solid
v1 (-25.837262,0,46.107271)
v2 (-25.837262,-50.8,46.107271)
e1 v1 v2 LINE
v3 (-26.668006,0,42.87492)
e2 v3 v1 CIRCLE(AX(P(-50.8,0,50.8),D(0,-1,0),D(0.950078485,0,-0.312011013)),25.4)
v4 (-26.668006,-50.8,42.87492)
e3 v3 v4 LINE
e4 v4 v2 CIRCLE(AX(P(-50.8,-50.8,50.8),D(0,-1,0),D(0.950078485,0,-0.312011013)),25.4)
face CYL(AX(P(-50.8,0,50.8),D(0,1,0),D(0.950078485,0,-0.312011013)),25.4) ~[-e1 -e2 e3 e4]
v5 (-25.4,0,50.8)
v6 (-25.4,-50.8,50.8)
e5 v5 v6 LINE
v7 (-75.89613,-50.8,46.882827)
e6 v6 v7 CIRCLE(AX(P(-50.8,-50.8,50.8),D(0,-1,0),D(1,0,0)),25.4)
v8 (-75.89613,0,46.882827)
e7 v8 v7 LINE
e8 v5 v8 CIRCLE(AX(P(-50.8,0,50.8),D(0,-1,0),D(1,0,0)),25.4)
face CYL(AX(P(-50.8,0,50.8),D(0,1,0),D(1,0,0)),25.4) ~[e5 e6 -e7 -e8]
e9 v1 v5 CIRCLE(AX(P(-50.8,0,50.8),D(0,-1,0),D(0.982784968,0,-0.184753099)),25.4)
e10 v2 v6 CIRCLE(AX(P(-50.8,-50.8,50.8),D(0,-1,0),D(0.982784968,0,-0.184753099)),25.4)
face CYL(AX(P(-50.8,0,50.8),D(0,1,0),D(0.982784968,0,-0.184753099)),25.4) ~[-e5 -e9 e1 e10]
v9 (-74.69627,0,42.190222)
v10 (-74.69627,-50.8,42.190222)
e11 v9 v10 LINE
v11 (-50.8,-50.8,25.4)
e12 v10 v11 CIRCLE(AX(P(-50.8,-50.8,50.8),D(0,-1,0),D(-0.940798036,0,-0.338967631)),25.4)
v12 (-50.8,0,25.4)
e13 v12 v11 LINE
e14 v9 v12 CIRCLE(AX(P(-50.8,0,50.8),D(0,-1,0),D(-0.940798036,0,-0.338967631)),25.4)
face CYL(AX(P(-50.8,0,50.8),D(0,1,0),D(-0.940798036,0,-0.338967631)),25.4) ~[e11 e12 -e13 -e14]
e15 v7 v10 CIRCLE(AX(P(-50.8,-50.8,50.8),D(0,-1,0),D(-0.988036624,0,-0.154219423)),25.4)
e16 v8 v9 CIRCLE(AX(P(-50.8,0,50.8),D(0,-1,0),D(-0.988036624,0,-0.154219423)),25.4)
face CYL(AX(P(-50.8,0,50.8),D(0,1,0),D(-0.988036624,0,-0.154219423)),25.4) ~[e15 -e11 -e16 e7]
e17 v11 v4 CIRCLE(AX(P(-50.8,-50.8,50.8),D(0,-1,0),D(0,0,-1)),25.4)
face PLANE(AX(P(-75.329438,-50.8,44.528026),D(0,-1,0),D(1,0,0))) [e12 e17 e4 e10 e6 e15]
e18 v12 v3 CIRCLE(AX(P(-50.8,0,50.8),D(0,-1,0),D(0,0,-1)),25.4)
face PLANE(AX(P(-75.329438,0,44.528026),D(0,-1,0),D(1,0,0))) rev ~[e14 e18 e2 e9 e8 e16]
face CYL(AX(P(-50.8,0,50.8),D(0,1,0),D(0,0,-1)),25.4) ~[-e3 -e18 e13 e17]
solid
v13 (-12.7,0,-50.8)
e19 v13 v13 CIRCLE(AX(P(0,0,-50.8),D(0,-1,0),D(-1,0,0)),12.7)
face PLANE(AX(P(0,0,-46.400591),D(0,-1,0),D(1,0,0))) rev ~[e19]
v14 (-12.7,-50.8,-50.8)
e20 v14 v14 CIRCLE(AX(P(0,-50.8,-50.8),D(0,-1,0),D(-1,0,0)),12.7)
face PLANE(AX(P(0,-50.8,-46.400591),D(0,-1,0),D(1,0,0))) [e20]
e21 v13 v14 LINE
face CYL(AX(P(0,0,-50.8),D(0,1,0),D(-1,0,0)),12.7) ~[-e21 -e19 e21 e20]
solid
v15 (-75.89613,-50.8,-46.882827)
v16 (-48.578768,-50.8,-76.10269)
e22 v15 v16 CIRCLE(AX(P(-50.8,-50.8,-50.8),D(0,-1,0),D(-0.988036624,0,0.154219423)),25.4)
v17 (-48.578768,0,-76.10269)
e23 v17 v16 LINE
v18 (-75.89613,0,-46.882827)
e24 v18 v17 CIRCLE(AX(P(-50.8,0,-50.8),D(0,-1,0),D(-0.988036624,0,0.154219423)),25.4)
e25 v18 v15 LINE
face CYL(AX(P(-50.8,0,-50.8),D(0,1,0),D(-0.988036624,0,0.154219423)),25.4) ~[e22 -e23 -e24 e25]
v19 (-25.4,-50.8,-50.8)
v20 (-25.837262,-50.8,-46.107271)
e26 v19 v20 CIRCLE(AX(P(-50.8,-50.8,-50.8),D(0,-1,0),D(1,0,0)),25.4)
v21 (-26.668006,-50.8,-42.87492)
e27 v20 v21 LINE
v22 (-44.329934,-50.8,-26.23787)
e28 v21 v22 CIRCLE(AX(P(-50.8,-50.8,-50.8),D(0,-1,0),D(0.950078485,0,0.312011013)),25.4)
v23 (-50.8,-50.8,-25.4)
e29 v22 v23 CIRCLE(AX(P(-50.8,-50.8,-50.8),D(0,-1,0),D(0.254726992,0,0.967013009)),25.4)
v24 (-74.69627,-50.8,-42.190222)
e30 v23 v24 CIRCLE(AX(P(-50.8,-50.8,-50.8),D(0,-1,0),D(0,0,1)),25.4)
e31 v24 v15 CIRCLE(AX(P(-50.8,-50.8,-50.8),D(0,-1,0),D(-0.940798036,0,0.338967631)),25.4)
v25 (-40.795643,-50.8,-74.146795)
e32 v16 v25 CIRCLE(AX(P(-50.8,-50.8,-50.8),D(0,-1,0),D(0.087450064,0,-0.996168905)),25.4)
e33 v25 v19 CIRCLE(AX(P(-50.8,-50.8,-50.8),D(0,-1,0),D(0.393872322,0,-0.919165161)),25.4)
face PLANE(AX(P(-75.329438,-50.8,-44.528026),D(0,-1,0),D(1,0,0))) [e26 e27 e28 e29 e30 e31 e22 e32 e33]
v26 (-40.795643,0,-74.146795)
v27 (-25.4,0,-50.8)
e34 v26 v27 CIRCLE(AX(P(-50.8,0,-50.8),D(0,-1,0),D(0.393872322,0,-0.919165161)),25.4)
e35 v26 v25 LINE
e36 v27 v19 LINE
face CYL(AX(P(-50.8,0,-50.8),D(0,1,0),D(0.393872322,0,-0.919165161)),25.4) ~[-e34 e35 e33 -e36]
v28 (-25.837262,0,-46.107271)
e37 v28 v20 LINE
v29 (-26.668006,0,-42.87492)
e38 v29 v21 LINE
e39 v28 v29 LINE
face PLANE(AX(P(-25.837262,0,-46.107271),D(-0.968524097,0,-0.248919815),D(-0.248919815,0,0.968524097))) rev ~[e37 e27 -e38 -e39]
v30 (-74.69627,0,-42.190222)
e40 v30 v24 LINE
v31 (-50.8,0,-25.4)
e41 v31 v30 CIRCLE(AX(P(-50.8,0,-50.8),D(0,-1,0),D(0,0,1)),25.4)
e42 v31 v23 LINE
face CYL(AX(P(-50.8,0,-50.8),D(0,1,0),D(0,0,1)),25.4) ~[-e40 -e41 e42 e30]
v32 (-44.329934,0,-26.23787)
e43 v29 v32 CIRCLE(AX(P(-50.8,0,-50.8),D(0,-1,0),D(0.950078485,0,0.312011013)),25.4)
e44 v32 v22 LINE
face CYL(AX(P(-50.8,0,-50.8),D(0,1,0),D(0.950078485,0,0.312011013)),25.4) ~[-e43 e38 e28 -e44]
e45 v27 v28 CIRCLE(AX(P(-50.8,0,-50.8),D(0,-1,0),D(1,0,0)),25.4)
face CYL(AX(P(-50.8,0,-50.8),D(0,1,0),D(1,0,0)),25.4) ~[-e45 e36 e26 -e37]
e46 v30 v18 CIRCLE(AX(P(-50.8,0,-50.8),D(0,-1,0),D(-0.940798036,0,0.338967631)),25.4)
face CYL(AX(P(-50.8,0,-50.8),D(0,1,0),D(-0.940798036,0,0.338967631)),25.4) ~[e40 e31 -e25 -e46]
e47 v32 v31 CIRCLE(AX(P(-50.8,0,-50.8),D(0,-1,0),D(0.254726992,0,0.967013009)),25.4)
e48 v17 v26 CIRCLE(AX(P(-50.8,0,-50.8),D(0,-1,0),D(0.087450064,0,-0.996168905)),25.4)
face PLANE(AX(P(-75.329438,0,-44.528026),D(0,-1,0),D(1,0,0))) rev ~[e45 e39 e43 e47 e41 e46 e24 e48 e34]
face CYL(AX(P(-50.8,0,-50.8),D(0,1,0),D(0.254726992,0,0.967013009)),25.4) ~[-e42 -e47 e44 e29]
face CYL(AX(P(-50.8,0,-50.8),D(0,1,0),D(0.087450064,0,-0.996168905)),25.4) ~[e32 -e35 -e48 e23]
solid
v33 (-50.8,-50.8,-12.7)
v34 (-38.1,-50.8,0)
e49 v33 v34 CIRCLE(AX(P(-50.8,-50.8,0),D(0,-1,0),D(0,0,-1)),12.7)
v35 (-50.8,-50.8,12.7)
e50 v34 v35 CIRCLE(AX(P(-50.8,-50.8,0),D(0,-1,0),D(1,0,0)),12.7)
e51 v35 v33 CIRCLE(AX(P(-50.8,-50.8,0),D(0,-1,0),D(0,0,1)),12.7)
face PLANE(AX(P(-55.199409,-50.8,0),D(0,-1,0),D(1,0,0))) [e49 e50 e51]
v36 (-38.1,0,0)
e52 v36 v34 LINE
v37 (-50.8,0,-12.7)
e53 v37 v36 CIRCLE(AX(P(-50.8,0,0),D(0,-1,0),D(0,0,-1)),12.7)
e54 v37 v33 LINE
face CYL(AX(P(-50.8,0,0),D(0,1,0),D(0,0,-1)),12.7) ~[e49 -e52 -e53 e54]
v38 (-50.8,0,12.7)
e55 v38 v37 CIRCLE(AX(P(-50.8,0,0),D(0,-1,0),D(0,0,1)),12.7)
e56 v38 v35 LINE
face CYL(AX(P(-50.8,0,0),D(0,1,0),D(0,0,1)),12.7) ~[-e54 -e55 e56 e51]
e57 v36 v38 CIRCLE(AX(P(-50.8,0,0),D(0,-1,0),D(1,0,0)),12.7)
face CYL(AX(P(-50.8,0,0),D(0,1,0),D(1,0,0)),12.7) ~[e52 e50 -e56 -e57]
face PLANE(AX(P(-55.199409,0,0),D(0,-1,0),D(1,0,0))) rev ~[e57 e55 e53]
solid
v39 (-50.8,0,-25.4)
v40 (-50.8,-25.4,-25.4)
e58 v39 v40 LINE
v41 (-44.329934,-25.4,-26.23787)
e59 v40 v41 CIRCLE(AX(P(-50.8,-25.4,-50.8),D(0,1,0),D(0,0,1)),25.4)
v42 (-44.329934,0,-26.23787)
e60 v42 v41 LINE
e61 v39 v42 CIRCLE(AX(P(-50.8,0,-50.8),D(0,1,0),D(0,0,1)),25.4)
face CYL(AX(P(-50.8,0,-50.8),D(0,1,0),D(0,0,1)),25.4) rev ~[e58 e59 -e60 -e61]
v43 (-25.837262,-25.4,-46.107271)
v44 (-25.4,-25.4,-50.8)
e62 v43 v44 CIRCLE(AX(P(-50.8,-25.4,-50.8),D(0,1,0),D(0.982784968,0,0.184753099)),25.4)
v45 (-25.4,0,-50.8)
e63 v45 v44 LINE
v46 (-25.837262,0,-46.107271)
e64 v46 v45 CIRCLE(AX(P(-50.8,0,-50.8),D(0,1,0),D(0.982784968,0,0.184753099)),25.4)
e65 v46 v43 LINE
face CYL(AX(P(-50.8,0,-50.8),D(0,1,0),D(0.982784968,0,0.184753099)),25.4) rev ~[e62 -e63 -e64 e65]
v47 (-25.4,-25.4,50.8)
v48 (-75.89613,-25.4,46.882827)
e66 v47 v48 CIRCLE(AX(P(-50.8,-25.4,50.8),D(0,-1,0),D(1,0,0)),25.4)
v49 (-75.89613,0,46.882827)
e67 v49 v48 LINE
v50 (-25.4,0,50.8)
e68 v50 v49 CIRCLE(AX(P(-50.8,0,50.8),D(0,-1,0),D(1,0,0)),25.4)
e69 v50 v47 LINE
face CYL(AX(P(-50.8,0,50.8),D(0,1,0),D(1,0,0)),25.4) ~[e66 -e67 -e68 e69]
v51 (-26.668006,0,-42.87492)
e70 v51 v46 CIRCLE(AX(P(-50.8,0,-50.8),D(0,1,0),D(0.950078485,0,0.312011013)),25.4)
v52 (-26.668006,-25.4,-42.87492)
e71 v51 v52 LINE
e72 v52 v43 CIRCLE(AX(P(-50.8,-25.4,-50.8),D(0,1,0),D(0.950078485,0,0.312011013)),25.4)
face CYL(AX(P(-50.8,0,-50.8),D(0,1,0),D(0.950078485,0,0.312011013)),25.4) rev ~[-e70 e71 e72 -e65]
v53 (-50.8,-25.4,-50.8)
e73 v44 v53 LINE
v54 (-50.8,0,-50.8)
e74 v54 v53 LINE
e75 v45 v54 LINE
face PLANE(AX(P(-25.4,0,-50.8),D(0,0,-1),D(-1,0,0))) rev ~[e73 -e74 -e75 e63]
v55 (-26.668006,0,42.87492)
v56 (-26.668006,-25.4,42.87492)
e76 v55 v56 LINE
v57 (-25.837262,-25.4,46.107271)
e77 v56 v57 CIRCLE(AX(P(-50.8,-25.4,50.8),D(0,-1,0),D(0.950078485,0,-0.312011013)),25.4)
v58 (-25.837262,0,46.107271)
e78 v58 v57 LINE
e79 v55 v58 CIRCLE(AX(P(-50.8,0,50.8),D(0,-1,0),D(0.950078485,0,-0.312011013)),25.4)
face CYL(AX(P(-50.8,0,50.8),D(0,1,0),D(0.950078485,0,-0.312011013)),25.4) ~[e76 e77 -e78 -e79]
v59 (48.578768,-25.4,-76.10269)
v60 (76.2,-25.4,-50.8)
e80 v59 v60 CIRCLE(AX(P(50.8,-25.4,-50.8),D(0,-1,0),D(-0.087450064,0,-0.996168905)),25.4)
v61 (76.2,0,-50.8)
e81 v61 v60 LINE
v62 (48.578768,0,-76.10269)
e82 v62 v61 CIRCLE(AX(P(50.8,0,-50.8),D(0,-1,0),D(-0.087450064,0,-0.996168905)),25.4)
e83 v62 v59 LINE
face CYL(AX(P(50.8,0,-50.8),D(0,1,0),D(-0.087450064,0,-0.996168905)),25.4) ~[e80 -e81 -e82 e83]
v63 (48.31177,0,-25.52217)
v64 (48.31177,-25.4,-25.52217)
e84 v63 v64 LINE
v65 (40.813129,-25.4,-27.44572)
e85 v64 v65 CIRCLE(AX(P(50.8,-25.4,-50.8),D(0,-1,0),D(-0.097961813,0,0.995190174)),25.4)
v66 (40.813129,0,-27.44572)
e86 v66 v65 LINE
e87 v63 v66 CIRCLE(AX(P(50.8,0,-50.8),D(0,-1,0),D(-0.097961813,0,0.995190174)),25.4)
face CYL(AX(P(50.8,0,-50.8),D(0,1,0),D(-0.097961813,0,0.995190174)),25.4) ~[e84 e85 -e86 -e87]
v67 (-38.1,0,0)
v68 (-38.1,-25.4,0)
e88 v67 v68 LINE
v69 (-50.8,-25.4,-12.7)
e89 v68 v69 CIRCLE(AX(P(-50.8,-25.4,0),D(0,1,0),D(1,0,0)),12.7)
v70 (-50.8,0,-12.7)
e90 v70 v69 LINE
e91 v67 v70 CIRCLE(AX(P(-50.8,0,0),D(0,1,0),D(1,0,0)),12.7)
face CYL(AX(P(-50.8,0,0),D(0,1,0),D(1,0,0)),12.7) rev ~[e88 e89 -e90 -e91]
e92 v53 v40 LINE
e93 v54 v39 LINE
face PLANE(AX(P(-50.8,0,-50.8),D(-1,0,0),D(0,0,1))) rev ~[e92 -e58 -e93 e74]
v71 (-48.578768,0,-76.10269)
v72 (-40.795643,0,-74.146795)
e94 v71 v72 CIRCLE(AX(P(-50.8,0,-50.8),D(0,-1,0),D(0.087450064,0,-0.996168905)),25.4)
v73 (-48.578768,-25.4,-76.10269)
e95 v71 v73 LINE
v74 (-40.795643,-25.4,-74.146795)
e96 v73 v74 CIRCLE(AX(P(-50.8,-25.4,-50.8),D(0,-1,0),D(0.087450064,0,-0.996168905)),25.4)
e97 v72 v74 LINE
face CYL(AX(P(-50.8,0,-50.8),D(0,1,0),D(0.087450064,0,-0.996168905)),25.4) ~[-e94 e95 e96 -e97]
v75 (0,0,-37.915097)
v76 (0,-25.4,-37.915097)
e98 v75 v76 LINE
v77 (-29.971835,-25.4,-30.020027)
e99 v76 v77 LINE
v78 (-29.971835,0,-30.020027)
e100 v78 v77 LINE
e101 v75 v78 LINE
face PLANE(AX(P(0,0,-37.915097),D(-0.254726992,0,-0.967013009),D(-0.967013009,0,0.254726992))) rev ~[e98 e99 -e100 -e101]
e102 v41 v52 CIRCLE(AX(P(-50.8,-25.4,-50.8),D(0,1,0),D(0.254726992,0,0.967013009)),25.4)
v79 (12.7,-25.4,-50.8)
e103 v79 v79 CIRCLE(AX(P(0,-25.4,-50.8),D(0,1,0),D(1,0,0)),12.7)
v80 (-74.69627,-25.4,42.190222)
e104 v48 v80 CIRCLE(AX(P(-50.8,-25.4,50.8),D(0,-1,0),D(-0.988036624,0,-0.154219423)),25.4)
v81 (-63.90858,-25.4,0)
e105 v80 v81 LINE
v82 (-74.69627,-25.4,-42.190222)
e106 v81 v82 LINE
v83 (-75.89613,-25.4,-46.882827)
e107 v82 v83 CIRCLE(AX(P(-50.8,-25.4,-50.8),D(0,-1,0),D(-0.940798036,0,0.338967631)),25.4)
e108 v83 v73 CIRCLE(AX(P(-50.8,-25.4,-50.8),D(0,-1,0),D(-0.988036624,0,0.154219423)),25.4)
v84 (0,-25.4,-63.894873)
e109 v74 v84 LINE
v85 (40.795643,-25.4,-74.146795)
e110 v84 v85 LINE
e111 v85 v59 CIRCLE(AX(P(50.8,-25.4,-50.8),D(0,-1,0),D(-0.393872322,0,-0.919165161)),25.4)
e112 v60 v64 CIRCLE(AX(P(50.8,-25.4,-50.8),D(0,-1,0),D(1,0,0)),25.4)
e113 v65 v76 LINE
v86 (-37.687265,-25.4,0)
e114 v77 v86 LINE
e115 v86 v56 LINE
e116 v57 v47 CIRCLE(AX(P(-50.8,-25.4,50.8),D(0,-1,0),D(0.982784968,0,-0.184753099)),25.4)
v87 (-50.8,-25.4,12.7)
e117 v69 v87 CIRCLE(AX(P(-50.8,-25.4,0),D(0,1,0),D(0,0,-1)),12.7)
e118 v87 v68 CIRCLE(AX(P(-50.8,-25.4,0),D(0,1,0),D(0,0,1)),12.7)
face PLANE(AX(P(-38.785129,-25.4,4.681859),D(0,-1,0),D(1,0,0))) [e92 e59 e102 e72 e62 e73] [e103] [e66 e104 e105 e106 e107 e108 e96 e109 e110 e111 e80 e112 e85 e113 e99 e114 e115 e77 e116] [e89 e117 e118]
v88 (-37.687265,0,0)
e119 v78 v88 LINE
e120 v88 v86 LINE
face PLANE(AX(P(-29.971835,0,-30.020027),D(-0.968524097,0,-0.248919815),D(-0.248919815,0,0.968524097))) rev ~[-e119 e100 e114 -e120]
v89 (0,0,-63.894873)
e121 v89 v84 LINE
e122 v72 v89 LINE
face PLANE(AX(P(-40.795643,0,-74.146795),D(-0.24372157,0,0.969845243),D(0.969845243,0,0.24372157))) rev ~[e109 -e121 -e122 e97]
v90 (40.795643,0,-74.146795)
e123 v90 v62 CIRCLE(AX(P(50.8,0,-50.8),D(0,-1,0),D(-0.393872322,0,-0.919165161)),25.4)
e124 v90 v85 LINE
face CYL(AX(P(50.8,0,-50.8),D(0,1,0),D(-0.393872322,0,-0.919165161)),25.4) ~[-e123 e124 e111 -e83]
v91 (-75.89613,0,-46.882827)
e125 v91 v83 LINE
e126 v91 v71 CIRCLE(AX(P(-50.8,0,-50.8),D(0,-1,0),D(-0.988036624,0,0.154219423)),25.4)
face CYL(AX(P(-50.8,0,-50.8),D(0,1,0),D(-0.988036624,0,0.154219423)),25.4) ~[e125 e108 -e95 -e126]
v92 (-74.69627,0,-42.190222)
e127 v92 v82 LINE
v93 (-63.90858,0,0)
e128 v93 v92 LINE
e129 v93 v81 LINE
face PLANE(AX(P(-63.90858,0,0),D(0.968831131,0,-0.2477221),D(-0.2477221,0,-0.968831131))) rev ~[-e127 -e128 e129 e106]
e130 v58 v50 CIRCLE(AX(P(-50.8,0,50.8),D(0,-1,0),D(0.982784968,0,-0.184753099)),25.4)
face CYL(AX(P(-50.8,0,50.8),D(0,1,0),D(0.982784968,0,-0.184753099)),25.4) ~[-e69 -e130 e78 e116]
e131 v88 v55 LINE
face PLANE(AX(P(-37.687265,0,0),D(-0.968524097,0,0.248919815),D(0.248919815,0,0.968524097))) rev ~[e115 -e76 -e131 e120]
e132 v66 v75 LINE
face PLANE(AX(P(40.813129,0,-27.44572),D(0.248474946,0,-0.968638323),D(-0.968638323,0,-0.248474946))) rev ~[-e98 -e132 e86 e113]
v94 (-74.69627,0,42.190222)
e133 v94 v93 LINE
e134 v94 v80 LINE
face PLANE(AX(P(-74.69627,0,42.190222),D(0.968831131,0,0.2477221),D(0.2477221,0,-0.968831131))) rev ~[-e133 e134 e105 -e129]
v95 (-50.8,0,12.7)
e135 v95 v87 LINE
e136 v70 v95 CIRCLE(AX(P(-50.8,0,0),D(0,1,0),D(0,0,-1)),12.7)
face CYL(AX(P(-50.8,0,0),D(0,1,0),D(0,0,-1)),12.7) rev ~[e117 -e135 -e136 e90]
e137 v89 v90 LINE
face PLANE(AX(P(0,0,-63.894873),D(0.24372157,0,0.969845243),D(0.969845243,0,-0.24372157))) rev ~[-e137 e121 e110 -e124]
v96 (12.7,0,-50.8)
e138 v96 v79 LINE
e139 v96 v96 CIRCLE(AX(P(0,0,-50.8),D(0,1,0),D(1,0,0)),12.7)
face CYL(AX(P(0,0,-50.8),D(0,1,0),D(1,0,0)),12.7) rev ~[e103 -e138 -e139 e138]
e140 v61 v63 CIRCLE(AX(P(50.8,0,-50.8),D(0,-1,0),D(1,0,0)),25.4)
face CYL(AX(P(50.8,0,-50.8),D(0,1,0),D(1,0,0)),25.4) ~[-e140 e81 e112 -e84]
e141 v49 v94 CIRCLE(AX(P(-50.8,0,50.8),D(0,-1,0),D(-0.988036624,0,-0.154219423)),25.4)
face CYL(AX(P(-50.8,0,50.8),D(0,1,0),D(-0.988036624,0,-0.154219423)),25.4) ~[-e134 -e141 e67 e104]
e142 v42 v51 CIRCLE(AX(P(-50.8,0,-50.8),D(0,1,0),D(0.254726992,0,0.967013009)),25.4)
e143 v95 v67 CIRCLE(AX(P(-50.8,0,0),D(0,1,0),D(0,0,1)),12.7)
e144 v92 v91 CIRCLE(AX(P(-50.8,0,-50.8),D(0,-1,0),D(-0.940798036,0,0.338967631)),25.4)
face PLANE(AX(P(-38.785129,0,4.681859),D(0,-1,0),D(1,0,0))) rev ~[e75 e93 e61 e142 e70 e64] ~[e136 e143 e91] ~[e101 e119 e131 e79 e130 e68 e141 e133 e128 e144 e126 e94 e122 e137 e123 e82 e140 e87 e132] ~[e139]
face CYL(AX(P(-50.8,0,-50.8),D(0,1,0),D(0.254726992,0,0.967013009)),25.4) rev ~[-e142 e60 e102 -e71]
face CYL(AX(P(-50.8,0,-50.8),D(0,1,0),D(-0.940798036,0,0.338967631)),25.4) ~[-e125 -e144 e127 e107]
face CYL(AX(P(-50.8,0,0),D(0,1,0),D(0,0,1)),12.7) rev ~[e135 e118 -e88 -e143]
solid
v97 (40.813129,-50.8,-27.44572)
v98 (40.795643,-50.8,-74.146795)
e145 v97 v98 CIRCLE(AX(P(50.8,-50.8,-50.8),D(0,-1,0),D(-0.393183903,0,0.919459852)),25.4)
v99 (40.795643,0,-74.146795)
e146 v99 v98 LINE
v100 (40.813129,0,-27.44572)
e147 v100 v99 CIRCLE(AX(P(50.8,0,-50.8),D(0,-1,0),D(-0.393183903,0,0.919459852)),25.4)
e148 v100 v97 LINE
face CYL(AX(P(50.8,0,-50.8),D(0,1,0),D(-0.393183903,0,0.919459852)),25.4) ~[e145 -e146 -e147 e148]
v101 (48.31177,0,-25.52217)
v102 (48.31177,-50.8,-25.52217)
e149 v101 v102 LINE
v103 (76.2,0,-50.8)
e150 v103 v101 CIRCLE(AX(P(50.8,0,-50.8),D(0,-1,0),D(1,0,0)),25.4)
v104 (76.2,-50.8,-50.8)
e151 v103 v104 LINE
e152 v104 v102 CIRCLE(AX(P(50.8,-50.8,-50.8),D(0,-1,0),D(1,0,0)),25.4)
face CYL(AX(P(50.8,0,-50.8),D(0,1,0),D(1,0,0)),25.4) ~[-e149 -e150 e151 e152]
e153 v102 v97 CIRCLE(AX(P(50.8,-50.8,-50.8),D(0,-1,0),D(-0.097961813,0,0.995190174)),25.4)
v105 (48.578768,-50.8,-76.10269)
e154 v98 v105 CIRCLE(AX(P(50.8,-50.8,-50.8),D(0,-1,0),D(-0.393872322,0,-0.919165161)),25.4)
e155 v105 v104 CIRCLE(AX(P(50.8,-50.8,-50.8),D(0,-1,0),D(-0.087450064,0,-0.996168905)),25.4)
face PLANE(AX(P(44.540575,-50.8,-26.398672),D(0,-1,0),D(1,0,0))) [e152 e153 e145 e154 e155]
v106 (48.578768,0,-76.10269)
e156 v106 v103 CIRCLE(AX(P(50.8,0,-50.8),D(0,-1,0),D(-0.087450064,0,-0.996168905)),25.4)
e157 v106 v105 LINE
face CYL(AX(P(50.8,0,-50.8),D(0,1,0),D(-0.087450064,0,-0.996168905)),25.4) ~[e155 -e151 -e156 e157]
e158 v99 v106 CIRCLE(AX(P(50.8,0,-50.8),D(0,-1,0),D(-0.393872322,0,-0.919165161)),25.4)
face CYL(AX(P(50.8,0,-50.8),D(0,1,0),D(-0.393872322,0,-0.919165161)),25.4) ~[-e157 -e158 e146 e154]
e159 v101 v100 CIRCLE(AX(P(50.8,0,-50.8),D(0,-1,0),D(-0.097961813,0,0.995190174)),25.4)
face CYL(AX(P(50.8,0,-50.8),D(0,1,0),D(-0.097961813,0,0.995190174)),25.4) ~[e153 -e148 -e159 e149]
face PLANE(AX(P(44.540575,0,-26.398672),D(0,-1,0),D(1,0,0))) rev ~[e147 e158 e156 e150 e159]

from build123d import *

# Parameters (mm, degrees)
F1_DEPTH = 50.8
F2_DEPTH = 25.4


with BuildPart() as f1:
    # F0 (on Front) → F1 (new body)
    with BuildSketch(Plane.XZ):
        with BuildLine():
            ThreePointArc((-75.8961302399, 46.8828266589), (-75.40831074, 44.5078586694), (-74.6962701194, 42.1902221643))
            Line((-74.6962701194, 42.1902221643), (-75.8961302399, 46.8828266589))
        make_face()
        with BuildLine():
            Line((-25.8372618241, 46.1072712881), (-26.6680064828, 42.8749202601))
            ThreePointArc((-26.6680064828, 42.8749202601), (-26.1994879465, 44.4774366984), (-25.8372618241, 46.1072712881))
        make_face()
        with BuildLine():
            ThreePointArc((-74.6962701194, 42.1902221643), (-65.4025963954, 30.0172143707), (-50.8, 25.4))
            ThreePointArc((-50.8, 25.4), (-35.9026348872, 30.2274816151), (-26.6680064828, 42.8749202601))
            Line((-26.6680064828, 42.8749202601), (-25.8372618241, 46.1072712881))
            ThreePointArc((-25.8372618241, 46.1072712881), (-25.5095517075, 48.4434717981), (-25.4, 50.8))
            ThreePointArc((-25.4, 50.8), (-52.7644709094, 76.1239186155), (-75.8961302399, 46.8828266589))
            Line((-75.8961302399, 46.8828266589), (-74.6962701194, 42.1902221643))
        make_face()
    extrude(amount=F1_DEPTH)


with BuildPart() as f1b:
    # F0 (on Front) → F1, piece 2 (new body)
    with BuildSketch(Plane.XZ):
        with BuildLine():
            Line((-75.8961302399, -46.8828266589), (-74.6962701194, -42.1902221643))
            ThreePointArc((-74.6962701194, -42.1902221643), (-75.40831074, -44.5078586694), (-75.8961302399, -46.8828266589))
        make_face()
        with BuildLine():
            Line((-40.7956430213, -74.1467951), (-48.578768387, -76.1026901756))
            ThreePointArc((-48.578768387, -76.1026901756), (-44.6094721154, -75.4340691829), (-40.7956430213, -74.1467951))
        make_face()
        with BuildLine():
            Line((-50.8, -50.8), (-50.8, -25.4))
            ThreePointArc((-50.8, -25.4), (-65.4025963954, -30.0172143707), (-74.6962701194, -42.1902221643))
            Line((-74.6962701194, -42.1902221643), (-75.8961302399, -46.8828266589))
            ThreePointArc((-75.8961302399, -46.8828266589), (-69.3543890436, -68.1463150905), (-48.578768387, -76.1026901756))
            Line((-48.578768387, -76.1026901756), (-40.7956430213, -74.1467951))
            ThreePointArc((-40.7956430213, -74.1467951), (-29.5953935752, -64.7830134939), (-25.4, -50.8))
            Line((-25.4, -50.8), (-50.8, -50.8))
        make_face()
        with BuildLine():
            ThreePointArc((-44.3299344082, -26.2378695705), (-47.537954086, -25.6103383021), (-50.8, -25.4))
            Line((-50.8, -25.4), (-50.8, -50.8))
            Line((-50.8, -50.8), (-25.4, -50.8))
            ThreePointArc((-25.4, -50.8), (-25.5095517075, -48.4434717981), (-25.8372618241, -46.1072712881))
            Line((-25.8372618241, -46.1072712881), (-26.6680064828, -42.8749202601))
            ThreePointArc((-26.6680064828, -42.8749202601), (-33.3839335859, -32.3110673467), (-44.3299344082, -26.2378695705))
        make_face()
    extrude(amount=F1_DEPTH)


with BuildPart() as f1c:
    # F0 (on Front) → F1, piece 3 (new body)
    with BuildSketch(Plane.XZ):
        with BuildLine():
            ThreePointArc((48.3117699414, -25.5221695714), (44.4887363609, -26.196586593), (40.8131288755, -27.4457197682))
            Line((40.8131288755, -27.4457197682), (48.3117699414, -25.5221695714))
        make_face()
        with BuildLine():
            Line((48.578768387, -76.1026901756), (40.7956430213, -74.1467951))
            ThreePointArc((40.7956430213, -74.1467951), (44.6094721154, -75.4340691829), (48.578768387, -76.1026901756))
        make_face()
        with BuildLine():
            Line((48.3117699414, -25.5221695714), (40.8131288755, -27.4457197682))
            ThreePointArc((40.8131288755, -27.4457197682), (29.6006305924, -36.809048041), (25.4, -50.8))
            ThreePointArc((25.4, -50.8), (29.5953935752, -64.7830134939), (40.7956430213, -74.1467951))
            Line((40.7956430213, -74.1467951), (48.578768387, -76.1026901756))
            ThreePointArc((48.578768387, -76.1026901756), (67.957224674, -69.5293791004), (76.2, -50.8))
            ThreePointArc((76.2, -50.8), (67.8581205956, -31.980315578), (48.3117699414, -25.5221695714))
        make_face()
    extrude(amount=F1_DEPTH)


with BuildPart() as f1d:
    # F0 (on Front) → F1, piece 4 (new body)
    with BuildSketch(Plane.XZ):
        with BuildLine():
            Line((-50.8, 0), (-50.8, 12.7))
            ThreePointArc((-50.8, 12.7), (-63.5, 0), (-50.8, -12.7))
            Line((-50.8, -12.7), (-50.8, 0))
        make_face()
        with BuildLine():
            ThreePointArc((-38.1, 0), (-41.8197438789, 8.9802561211), (-50.8, 12.7))
            Line((-50.8, 12.7), (-50.8, 0))
            Line((-50.8, 0), (-50.8, -12.7))
            ThreePointArc((-50.8, -12.7), (-41.8197438789, -8.9802561211), (-38.1, 0))
        make_face()
    extrude(amount=F1_DEPTH)


with BuildPart() as f1e:
    # F0 (on Front) → F1, piece 5 (new body)
    with BuildSketch(Plane.XZ):
        with BuildLine():
            ThreePointArc((12.7, -50.8), (0, -38.1), (-12.7, -50.8))
            Line((-12.7, -50.8), (0, -50.8))
            Line((0, -50.8), (12.7, -50.8))
        make_face()
        with BuildLine():
            Line((0, -50.8), (-12.7, -50.8))
            ThreePointArc((-12.7, -50.8), (0, -63.5), (12.7, -50.8))
            Line((12.7, -50.8), (0, -50.8))
        make_face()
    extrude(amount=F1_DEPTH)


with BuildPart() as f2:
    # F0 (on Front) → F2 (new body)
    with BuildSketch(Plane.XZ):
        with BuildLine():
            ThreePointArc((-26.6680064828, 42.8749202601), (-35.9026348872, 30.2274816151), (-50.8, 25.4))
            Line((-50.8, 25.4), (-50.8, 12.7))
            ThreePointArc((-50.8, 12.7), (-41.8197438789, 8.9802561211), (-38.1, 0))
            ThreePointArc((-38.1, 0), (-41.8197438789, -8.9802561211), (-50.8, -12.7))
            Line((-50.8, -12.7), (-50.8, -25.4))
            ThreePointArc((-50.8, -25.4), (-47.537954086, -25.6103383021), (-44.3299344082, -26.2378695705))
            Line((-44.3299344082, -26.2378695705), (-29.9718351261, -30.0200270016))
            Line((-29.9718351261, -30.0200270016), (-37.6872648139, 0))
            Line((-37.6872648139, 0), (-26.6680064828, 42.8749202601))
        make_face()
        with BuildLine():
            Line((-50.8, 12.7), (-50.8, 25.4))
            ThreePointArc((-50.8, 25.4), (-65.4025963954, 30.0172143707), (-74.6962701194, 42.1902221643))
            Line((-74.6962701194, 42.1902221643), (-63.9085795936, 0))
            Line((-63.9085795936, 0), (-74.6962701194, -42.1902221643))
            ThreePointArc((-74.6962701194, -42.1902221643), (-65.4025963954, -30.0172143707), (-50.8, -25.4))
            Line((-50.8, -25.4), (-50.8, -12.7))
            ThreePointArc((-50.8, -12.7), (-63.5, 0), (-50.8, 12.7))
        make_face()
        with BuildLine():
            ThreePointArc((-74.6962701194, 42.1902221643), (-65.4025963954, 30.0172143707), (-50.8, 25.4))
            ThreePointArc((-50.8, 25.4), (-35.9026348872, 30.2274816151), (-26.6680064828, 42.8749202601))
            Line((-26.6680064828, 42.8749202601), (-25.8372618241, 46.1072712881))
            ThreePointArc((-25.8372618241, 46.1072712881), (-25.5095517075, 48.4434717981), (-25.4, 50.8))
            ThreePointArc((-25.4, 50.8), (-52.7644709094, 76.1239186155), (-75.8961302399, 46.8828266589))
            Line((-75.8961302399, 46.8828266589), (-74.6962701194, 42.1902221643))
        make_face()
        with BuildLine():
            ThreePointArc((-75.8961302399, 46.8828266589), (-75.40831074, 44.5078586694), (-74.6962701194, 42.1902221643))
            Line((-74.6962701194, 42.1902221643), (-75.8961302399, 46.8828266589))
        make_face()
        with BuildLine():
            Line((-25.8372618241, 46.1072712881), (-26.6680064828, 42.8749202601))
            ThreePointArc((-26.6680064828, 42.8749202601), (-26.1994879465, 44.4774366984), (-25.8372618241, 46.1072712881))
        make_face()
        with BuildLine():
            Line((-50.8, -50.8), (-50.8, -25.4))
            ThreePointArc((-50.8, -25.4), (-65.4025963954, -30.0172143707), (-74.6962701194, -42.1902221643))
            Line((-74.6962701194, -42.1902221643), (-75.8961302399, -46.8828266589))
            ThreePointArc((-75.8961302399, -46.8828266589), (-69.3543890436, -68.1463150905), (-48.578768387, -76.1026901756))
            Line((-48.578768387, -76.1026901756), (-40.7956430213, -74.1467951))
            ThreePointArc((-40.7956430213, -74.1467951), (-29.5953935752, -64.7830134939), (-25.4, -50.8))
            Line((-25.4, -50.8), (-50.8, -50.8))
        make_face()
        with BuildLine():
            Line((-75.8961302399, -46.8828266589), (-74.6962701194, -42.1902221643))
            ThreePointArc((-74.6962701194, -42.1902221643), (-75.40831074, -44.5078586694), (-75.8961302399, -46.8828266589))
        make_face()
        with BuildLine():
            Line((0, -37.9150970049), (-29.9718351261, -30.0200270016))
            Line((-29.9718351261, -30.0200270016), (-26.6680064828, -42.8749202601))
            ThreePointArc((-26.6680064828, -42.8749202601), (-26.1994879465, -44.4774366984), (-25.8372618241, -46.1072712881))
            ThreePointArc((-25.8372618241, -46.1072712881), (-25.5095517075, -48.4434717981), (-25.4, -50.8))
            Line((-25.4, -50.8), (-12.7, -50.8))
            ThreePointArc((-12.7, -50.8), (0, -38.1), (12.7, -50.8))
            Line((12.7, -50.8), (25.4, -50.8))
            ThreePointArc((25.4, -50.8), (29.6006305924, -36.809048041), (40.8131288755, -27.4457197682))
            Line((40.8131288755, -27.4457197682), (0, -37.9150970049))
        make_face()
        with BuildLine():
            Line((-26.6680064828, -42.8749202601), (-29.9718351261, -30.0200270016))
            Line((-29.9718351261, -30.0200270016), (-44.3299344082, -26.2378695705))
            ThreePointArc((-44.3299344082, -26.2378695705), (-33.3839335859, -32.3110673467), (-26.6680064828, -42.8749202601))
        make_face()
        with BuildLine():
            Line((-12.7, -50.8), (-25.4, -50.8))
            ThreePointArc((-25.4, -50.8), (-29.5953935752, -64.7830134939), (-40.7956430213, -74.1467951))
            Line((-40.7956430213, -74.1467951), (0, -63.8948726986))
            Line((0, -63.8948726986), (40.7956430213, -74.1467951))
            ThreePointArc((40.7956430213, -74.1467951), (29.5953935752, -64.7830134939), (25.4, -50.8))
            Line((25.4, -50.8), (12.7, -50.8))
            ThreePointArc((12.7, -50.8), (0, -63.5), (-12.7, -50.8))
        make_face()
        with BuildLine():
            Line((-40.7956430213, -74.1467951), (-48.578768387, -76.1026901756))
            ThreePointArc((-48.578768387, -76.1026901756), (-44.6094721154, -75.4340691829), (-40.7956430213, -74.1467951))
        make_face()
        with BuildLine():
            Line((48.3117699414, -25.5221695714), (40.8131288755, -27.4457197682))
            ThreePointArc((40.8131288755, -27.4457197682), (29.6006305924, -36.809048041), (25.4, -50.8))
            ThreePointArc((25.4, -50.8), (29.5953935752, -64.7830134939), (40.7956430213, -74.1467951))
            Line((40.7956430213, -74.1467951), (48.578768387, -76.1026901756))
            ThreePointArc((48.578768387, -76.1026901756), (67.957224674, -69.5293791004), (76.2, -50.8))
            ThreePointArc((76.2, -50.8), (67.8581205956, -31.980315578), (48.3117699414, -25.5221695714))
        make_face()
        with BuildLine():
            ThreePointArc((48.3117699414, -25.5221695714), (44.4887363609, -26.196586593), (40.8131288755, -27.4457197682))
            Line((40.8131288755, -27.4457197682), (48.3117699414, -25.5221695714))
        make_face()
        with BuildLine():
            Line((48.578768387, -76.1026901756), (40.7956430213, -74.1467951))
            ThreePointArc((40.7956430213, -74.1467951), (44.6094721154, -75.4340691829), (48.578768387, -76.1026901756))
        make_face()
    extrude(amount=F2_DEPTH)


solid = Compound([f1.part, f1b.part, f1c.part, f1d.part, f1e.part, f2.part])
